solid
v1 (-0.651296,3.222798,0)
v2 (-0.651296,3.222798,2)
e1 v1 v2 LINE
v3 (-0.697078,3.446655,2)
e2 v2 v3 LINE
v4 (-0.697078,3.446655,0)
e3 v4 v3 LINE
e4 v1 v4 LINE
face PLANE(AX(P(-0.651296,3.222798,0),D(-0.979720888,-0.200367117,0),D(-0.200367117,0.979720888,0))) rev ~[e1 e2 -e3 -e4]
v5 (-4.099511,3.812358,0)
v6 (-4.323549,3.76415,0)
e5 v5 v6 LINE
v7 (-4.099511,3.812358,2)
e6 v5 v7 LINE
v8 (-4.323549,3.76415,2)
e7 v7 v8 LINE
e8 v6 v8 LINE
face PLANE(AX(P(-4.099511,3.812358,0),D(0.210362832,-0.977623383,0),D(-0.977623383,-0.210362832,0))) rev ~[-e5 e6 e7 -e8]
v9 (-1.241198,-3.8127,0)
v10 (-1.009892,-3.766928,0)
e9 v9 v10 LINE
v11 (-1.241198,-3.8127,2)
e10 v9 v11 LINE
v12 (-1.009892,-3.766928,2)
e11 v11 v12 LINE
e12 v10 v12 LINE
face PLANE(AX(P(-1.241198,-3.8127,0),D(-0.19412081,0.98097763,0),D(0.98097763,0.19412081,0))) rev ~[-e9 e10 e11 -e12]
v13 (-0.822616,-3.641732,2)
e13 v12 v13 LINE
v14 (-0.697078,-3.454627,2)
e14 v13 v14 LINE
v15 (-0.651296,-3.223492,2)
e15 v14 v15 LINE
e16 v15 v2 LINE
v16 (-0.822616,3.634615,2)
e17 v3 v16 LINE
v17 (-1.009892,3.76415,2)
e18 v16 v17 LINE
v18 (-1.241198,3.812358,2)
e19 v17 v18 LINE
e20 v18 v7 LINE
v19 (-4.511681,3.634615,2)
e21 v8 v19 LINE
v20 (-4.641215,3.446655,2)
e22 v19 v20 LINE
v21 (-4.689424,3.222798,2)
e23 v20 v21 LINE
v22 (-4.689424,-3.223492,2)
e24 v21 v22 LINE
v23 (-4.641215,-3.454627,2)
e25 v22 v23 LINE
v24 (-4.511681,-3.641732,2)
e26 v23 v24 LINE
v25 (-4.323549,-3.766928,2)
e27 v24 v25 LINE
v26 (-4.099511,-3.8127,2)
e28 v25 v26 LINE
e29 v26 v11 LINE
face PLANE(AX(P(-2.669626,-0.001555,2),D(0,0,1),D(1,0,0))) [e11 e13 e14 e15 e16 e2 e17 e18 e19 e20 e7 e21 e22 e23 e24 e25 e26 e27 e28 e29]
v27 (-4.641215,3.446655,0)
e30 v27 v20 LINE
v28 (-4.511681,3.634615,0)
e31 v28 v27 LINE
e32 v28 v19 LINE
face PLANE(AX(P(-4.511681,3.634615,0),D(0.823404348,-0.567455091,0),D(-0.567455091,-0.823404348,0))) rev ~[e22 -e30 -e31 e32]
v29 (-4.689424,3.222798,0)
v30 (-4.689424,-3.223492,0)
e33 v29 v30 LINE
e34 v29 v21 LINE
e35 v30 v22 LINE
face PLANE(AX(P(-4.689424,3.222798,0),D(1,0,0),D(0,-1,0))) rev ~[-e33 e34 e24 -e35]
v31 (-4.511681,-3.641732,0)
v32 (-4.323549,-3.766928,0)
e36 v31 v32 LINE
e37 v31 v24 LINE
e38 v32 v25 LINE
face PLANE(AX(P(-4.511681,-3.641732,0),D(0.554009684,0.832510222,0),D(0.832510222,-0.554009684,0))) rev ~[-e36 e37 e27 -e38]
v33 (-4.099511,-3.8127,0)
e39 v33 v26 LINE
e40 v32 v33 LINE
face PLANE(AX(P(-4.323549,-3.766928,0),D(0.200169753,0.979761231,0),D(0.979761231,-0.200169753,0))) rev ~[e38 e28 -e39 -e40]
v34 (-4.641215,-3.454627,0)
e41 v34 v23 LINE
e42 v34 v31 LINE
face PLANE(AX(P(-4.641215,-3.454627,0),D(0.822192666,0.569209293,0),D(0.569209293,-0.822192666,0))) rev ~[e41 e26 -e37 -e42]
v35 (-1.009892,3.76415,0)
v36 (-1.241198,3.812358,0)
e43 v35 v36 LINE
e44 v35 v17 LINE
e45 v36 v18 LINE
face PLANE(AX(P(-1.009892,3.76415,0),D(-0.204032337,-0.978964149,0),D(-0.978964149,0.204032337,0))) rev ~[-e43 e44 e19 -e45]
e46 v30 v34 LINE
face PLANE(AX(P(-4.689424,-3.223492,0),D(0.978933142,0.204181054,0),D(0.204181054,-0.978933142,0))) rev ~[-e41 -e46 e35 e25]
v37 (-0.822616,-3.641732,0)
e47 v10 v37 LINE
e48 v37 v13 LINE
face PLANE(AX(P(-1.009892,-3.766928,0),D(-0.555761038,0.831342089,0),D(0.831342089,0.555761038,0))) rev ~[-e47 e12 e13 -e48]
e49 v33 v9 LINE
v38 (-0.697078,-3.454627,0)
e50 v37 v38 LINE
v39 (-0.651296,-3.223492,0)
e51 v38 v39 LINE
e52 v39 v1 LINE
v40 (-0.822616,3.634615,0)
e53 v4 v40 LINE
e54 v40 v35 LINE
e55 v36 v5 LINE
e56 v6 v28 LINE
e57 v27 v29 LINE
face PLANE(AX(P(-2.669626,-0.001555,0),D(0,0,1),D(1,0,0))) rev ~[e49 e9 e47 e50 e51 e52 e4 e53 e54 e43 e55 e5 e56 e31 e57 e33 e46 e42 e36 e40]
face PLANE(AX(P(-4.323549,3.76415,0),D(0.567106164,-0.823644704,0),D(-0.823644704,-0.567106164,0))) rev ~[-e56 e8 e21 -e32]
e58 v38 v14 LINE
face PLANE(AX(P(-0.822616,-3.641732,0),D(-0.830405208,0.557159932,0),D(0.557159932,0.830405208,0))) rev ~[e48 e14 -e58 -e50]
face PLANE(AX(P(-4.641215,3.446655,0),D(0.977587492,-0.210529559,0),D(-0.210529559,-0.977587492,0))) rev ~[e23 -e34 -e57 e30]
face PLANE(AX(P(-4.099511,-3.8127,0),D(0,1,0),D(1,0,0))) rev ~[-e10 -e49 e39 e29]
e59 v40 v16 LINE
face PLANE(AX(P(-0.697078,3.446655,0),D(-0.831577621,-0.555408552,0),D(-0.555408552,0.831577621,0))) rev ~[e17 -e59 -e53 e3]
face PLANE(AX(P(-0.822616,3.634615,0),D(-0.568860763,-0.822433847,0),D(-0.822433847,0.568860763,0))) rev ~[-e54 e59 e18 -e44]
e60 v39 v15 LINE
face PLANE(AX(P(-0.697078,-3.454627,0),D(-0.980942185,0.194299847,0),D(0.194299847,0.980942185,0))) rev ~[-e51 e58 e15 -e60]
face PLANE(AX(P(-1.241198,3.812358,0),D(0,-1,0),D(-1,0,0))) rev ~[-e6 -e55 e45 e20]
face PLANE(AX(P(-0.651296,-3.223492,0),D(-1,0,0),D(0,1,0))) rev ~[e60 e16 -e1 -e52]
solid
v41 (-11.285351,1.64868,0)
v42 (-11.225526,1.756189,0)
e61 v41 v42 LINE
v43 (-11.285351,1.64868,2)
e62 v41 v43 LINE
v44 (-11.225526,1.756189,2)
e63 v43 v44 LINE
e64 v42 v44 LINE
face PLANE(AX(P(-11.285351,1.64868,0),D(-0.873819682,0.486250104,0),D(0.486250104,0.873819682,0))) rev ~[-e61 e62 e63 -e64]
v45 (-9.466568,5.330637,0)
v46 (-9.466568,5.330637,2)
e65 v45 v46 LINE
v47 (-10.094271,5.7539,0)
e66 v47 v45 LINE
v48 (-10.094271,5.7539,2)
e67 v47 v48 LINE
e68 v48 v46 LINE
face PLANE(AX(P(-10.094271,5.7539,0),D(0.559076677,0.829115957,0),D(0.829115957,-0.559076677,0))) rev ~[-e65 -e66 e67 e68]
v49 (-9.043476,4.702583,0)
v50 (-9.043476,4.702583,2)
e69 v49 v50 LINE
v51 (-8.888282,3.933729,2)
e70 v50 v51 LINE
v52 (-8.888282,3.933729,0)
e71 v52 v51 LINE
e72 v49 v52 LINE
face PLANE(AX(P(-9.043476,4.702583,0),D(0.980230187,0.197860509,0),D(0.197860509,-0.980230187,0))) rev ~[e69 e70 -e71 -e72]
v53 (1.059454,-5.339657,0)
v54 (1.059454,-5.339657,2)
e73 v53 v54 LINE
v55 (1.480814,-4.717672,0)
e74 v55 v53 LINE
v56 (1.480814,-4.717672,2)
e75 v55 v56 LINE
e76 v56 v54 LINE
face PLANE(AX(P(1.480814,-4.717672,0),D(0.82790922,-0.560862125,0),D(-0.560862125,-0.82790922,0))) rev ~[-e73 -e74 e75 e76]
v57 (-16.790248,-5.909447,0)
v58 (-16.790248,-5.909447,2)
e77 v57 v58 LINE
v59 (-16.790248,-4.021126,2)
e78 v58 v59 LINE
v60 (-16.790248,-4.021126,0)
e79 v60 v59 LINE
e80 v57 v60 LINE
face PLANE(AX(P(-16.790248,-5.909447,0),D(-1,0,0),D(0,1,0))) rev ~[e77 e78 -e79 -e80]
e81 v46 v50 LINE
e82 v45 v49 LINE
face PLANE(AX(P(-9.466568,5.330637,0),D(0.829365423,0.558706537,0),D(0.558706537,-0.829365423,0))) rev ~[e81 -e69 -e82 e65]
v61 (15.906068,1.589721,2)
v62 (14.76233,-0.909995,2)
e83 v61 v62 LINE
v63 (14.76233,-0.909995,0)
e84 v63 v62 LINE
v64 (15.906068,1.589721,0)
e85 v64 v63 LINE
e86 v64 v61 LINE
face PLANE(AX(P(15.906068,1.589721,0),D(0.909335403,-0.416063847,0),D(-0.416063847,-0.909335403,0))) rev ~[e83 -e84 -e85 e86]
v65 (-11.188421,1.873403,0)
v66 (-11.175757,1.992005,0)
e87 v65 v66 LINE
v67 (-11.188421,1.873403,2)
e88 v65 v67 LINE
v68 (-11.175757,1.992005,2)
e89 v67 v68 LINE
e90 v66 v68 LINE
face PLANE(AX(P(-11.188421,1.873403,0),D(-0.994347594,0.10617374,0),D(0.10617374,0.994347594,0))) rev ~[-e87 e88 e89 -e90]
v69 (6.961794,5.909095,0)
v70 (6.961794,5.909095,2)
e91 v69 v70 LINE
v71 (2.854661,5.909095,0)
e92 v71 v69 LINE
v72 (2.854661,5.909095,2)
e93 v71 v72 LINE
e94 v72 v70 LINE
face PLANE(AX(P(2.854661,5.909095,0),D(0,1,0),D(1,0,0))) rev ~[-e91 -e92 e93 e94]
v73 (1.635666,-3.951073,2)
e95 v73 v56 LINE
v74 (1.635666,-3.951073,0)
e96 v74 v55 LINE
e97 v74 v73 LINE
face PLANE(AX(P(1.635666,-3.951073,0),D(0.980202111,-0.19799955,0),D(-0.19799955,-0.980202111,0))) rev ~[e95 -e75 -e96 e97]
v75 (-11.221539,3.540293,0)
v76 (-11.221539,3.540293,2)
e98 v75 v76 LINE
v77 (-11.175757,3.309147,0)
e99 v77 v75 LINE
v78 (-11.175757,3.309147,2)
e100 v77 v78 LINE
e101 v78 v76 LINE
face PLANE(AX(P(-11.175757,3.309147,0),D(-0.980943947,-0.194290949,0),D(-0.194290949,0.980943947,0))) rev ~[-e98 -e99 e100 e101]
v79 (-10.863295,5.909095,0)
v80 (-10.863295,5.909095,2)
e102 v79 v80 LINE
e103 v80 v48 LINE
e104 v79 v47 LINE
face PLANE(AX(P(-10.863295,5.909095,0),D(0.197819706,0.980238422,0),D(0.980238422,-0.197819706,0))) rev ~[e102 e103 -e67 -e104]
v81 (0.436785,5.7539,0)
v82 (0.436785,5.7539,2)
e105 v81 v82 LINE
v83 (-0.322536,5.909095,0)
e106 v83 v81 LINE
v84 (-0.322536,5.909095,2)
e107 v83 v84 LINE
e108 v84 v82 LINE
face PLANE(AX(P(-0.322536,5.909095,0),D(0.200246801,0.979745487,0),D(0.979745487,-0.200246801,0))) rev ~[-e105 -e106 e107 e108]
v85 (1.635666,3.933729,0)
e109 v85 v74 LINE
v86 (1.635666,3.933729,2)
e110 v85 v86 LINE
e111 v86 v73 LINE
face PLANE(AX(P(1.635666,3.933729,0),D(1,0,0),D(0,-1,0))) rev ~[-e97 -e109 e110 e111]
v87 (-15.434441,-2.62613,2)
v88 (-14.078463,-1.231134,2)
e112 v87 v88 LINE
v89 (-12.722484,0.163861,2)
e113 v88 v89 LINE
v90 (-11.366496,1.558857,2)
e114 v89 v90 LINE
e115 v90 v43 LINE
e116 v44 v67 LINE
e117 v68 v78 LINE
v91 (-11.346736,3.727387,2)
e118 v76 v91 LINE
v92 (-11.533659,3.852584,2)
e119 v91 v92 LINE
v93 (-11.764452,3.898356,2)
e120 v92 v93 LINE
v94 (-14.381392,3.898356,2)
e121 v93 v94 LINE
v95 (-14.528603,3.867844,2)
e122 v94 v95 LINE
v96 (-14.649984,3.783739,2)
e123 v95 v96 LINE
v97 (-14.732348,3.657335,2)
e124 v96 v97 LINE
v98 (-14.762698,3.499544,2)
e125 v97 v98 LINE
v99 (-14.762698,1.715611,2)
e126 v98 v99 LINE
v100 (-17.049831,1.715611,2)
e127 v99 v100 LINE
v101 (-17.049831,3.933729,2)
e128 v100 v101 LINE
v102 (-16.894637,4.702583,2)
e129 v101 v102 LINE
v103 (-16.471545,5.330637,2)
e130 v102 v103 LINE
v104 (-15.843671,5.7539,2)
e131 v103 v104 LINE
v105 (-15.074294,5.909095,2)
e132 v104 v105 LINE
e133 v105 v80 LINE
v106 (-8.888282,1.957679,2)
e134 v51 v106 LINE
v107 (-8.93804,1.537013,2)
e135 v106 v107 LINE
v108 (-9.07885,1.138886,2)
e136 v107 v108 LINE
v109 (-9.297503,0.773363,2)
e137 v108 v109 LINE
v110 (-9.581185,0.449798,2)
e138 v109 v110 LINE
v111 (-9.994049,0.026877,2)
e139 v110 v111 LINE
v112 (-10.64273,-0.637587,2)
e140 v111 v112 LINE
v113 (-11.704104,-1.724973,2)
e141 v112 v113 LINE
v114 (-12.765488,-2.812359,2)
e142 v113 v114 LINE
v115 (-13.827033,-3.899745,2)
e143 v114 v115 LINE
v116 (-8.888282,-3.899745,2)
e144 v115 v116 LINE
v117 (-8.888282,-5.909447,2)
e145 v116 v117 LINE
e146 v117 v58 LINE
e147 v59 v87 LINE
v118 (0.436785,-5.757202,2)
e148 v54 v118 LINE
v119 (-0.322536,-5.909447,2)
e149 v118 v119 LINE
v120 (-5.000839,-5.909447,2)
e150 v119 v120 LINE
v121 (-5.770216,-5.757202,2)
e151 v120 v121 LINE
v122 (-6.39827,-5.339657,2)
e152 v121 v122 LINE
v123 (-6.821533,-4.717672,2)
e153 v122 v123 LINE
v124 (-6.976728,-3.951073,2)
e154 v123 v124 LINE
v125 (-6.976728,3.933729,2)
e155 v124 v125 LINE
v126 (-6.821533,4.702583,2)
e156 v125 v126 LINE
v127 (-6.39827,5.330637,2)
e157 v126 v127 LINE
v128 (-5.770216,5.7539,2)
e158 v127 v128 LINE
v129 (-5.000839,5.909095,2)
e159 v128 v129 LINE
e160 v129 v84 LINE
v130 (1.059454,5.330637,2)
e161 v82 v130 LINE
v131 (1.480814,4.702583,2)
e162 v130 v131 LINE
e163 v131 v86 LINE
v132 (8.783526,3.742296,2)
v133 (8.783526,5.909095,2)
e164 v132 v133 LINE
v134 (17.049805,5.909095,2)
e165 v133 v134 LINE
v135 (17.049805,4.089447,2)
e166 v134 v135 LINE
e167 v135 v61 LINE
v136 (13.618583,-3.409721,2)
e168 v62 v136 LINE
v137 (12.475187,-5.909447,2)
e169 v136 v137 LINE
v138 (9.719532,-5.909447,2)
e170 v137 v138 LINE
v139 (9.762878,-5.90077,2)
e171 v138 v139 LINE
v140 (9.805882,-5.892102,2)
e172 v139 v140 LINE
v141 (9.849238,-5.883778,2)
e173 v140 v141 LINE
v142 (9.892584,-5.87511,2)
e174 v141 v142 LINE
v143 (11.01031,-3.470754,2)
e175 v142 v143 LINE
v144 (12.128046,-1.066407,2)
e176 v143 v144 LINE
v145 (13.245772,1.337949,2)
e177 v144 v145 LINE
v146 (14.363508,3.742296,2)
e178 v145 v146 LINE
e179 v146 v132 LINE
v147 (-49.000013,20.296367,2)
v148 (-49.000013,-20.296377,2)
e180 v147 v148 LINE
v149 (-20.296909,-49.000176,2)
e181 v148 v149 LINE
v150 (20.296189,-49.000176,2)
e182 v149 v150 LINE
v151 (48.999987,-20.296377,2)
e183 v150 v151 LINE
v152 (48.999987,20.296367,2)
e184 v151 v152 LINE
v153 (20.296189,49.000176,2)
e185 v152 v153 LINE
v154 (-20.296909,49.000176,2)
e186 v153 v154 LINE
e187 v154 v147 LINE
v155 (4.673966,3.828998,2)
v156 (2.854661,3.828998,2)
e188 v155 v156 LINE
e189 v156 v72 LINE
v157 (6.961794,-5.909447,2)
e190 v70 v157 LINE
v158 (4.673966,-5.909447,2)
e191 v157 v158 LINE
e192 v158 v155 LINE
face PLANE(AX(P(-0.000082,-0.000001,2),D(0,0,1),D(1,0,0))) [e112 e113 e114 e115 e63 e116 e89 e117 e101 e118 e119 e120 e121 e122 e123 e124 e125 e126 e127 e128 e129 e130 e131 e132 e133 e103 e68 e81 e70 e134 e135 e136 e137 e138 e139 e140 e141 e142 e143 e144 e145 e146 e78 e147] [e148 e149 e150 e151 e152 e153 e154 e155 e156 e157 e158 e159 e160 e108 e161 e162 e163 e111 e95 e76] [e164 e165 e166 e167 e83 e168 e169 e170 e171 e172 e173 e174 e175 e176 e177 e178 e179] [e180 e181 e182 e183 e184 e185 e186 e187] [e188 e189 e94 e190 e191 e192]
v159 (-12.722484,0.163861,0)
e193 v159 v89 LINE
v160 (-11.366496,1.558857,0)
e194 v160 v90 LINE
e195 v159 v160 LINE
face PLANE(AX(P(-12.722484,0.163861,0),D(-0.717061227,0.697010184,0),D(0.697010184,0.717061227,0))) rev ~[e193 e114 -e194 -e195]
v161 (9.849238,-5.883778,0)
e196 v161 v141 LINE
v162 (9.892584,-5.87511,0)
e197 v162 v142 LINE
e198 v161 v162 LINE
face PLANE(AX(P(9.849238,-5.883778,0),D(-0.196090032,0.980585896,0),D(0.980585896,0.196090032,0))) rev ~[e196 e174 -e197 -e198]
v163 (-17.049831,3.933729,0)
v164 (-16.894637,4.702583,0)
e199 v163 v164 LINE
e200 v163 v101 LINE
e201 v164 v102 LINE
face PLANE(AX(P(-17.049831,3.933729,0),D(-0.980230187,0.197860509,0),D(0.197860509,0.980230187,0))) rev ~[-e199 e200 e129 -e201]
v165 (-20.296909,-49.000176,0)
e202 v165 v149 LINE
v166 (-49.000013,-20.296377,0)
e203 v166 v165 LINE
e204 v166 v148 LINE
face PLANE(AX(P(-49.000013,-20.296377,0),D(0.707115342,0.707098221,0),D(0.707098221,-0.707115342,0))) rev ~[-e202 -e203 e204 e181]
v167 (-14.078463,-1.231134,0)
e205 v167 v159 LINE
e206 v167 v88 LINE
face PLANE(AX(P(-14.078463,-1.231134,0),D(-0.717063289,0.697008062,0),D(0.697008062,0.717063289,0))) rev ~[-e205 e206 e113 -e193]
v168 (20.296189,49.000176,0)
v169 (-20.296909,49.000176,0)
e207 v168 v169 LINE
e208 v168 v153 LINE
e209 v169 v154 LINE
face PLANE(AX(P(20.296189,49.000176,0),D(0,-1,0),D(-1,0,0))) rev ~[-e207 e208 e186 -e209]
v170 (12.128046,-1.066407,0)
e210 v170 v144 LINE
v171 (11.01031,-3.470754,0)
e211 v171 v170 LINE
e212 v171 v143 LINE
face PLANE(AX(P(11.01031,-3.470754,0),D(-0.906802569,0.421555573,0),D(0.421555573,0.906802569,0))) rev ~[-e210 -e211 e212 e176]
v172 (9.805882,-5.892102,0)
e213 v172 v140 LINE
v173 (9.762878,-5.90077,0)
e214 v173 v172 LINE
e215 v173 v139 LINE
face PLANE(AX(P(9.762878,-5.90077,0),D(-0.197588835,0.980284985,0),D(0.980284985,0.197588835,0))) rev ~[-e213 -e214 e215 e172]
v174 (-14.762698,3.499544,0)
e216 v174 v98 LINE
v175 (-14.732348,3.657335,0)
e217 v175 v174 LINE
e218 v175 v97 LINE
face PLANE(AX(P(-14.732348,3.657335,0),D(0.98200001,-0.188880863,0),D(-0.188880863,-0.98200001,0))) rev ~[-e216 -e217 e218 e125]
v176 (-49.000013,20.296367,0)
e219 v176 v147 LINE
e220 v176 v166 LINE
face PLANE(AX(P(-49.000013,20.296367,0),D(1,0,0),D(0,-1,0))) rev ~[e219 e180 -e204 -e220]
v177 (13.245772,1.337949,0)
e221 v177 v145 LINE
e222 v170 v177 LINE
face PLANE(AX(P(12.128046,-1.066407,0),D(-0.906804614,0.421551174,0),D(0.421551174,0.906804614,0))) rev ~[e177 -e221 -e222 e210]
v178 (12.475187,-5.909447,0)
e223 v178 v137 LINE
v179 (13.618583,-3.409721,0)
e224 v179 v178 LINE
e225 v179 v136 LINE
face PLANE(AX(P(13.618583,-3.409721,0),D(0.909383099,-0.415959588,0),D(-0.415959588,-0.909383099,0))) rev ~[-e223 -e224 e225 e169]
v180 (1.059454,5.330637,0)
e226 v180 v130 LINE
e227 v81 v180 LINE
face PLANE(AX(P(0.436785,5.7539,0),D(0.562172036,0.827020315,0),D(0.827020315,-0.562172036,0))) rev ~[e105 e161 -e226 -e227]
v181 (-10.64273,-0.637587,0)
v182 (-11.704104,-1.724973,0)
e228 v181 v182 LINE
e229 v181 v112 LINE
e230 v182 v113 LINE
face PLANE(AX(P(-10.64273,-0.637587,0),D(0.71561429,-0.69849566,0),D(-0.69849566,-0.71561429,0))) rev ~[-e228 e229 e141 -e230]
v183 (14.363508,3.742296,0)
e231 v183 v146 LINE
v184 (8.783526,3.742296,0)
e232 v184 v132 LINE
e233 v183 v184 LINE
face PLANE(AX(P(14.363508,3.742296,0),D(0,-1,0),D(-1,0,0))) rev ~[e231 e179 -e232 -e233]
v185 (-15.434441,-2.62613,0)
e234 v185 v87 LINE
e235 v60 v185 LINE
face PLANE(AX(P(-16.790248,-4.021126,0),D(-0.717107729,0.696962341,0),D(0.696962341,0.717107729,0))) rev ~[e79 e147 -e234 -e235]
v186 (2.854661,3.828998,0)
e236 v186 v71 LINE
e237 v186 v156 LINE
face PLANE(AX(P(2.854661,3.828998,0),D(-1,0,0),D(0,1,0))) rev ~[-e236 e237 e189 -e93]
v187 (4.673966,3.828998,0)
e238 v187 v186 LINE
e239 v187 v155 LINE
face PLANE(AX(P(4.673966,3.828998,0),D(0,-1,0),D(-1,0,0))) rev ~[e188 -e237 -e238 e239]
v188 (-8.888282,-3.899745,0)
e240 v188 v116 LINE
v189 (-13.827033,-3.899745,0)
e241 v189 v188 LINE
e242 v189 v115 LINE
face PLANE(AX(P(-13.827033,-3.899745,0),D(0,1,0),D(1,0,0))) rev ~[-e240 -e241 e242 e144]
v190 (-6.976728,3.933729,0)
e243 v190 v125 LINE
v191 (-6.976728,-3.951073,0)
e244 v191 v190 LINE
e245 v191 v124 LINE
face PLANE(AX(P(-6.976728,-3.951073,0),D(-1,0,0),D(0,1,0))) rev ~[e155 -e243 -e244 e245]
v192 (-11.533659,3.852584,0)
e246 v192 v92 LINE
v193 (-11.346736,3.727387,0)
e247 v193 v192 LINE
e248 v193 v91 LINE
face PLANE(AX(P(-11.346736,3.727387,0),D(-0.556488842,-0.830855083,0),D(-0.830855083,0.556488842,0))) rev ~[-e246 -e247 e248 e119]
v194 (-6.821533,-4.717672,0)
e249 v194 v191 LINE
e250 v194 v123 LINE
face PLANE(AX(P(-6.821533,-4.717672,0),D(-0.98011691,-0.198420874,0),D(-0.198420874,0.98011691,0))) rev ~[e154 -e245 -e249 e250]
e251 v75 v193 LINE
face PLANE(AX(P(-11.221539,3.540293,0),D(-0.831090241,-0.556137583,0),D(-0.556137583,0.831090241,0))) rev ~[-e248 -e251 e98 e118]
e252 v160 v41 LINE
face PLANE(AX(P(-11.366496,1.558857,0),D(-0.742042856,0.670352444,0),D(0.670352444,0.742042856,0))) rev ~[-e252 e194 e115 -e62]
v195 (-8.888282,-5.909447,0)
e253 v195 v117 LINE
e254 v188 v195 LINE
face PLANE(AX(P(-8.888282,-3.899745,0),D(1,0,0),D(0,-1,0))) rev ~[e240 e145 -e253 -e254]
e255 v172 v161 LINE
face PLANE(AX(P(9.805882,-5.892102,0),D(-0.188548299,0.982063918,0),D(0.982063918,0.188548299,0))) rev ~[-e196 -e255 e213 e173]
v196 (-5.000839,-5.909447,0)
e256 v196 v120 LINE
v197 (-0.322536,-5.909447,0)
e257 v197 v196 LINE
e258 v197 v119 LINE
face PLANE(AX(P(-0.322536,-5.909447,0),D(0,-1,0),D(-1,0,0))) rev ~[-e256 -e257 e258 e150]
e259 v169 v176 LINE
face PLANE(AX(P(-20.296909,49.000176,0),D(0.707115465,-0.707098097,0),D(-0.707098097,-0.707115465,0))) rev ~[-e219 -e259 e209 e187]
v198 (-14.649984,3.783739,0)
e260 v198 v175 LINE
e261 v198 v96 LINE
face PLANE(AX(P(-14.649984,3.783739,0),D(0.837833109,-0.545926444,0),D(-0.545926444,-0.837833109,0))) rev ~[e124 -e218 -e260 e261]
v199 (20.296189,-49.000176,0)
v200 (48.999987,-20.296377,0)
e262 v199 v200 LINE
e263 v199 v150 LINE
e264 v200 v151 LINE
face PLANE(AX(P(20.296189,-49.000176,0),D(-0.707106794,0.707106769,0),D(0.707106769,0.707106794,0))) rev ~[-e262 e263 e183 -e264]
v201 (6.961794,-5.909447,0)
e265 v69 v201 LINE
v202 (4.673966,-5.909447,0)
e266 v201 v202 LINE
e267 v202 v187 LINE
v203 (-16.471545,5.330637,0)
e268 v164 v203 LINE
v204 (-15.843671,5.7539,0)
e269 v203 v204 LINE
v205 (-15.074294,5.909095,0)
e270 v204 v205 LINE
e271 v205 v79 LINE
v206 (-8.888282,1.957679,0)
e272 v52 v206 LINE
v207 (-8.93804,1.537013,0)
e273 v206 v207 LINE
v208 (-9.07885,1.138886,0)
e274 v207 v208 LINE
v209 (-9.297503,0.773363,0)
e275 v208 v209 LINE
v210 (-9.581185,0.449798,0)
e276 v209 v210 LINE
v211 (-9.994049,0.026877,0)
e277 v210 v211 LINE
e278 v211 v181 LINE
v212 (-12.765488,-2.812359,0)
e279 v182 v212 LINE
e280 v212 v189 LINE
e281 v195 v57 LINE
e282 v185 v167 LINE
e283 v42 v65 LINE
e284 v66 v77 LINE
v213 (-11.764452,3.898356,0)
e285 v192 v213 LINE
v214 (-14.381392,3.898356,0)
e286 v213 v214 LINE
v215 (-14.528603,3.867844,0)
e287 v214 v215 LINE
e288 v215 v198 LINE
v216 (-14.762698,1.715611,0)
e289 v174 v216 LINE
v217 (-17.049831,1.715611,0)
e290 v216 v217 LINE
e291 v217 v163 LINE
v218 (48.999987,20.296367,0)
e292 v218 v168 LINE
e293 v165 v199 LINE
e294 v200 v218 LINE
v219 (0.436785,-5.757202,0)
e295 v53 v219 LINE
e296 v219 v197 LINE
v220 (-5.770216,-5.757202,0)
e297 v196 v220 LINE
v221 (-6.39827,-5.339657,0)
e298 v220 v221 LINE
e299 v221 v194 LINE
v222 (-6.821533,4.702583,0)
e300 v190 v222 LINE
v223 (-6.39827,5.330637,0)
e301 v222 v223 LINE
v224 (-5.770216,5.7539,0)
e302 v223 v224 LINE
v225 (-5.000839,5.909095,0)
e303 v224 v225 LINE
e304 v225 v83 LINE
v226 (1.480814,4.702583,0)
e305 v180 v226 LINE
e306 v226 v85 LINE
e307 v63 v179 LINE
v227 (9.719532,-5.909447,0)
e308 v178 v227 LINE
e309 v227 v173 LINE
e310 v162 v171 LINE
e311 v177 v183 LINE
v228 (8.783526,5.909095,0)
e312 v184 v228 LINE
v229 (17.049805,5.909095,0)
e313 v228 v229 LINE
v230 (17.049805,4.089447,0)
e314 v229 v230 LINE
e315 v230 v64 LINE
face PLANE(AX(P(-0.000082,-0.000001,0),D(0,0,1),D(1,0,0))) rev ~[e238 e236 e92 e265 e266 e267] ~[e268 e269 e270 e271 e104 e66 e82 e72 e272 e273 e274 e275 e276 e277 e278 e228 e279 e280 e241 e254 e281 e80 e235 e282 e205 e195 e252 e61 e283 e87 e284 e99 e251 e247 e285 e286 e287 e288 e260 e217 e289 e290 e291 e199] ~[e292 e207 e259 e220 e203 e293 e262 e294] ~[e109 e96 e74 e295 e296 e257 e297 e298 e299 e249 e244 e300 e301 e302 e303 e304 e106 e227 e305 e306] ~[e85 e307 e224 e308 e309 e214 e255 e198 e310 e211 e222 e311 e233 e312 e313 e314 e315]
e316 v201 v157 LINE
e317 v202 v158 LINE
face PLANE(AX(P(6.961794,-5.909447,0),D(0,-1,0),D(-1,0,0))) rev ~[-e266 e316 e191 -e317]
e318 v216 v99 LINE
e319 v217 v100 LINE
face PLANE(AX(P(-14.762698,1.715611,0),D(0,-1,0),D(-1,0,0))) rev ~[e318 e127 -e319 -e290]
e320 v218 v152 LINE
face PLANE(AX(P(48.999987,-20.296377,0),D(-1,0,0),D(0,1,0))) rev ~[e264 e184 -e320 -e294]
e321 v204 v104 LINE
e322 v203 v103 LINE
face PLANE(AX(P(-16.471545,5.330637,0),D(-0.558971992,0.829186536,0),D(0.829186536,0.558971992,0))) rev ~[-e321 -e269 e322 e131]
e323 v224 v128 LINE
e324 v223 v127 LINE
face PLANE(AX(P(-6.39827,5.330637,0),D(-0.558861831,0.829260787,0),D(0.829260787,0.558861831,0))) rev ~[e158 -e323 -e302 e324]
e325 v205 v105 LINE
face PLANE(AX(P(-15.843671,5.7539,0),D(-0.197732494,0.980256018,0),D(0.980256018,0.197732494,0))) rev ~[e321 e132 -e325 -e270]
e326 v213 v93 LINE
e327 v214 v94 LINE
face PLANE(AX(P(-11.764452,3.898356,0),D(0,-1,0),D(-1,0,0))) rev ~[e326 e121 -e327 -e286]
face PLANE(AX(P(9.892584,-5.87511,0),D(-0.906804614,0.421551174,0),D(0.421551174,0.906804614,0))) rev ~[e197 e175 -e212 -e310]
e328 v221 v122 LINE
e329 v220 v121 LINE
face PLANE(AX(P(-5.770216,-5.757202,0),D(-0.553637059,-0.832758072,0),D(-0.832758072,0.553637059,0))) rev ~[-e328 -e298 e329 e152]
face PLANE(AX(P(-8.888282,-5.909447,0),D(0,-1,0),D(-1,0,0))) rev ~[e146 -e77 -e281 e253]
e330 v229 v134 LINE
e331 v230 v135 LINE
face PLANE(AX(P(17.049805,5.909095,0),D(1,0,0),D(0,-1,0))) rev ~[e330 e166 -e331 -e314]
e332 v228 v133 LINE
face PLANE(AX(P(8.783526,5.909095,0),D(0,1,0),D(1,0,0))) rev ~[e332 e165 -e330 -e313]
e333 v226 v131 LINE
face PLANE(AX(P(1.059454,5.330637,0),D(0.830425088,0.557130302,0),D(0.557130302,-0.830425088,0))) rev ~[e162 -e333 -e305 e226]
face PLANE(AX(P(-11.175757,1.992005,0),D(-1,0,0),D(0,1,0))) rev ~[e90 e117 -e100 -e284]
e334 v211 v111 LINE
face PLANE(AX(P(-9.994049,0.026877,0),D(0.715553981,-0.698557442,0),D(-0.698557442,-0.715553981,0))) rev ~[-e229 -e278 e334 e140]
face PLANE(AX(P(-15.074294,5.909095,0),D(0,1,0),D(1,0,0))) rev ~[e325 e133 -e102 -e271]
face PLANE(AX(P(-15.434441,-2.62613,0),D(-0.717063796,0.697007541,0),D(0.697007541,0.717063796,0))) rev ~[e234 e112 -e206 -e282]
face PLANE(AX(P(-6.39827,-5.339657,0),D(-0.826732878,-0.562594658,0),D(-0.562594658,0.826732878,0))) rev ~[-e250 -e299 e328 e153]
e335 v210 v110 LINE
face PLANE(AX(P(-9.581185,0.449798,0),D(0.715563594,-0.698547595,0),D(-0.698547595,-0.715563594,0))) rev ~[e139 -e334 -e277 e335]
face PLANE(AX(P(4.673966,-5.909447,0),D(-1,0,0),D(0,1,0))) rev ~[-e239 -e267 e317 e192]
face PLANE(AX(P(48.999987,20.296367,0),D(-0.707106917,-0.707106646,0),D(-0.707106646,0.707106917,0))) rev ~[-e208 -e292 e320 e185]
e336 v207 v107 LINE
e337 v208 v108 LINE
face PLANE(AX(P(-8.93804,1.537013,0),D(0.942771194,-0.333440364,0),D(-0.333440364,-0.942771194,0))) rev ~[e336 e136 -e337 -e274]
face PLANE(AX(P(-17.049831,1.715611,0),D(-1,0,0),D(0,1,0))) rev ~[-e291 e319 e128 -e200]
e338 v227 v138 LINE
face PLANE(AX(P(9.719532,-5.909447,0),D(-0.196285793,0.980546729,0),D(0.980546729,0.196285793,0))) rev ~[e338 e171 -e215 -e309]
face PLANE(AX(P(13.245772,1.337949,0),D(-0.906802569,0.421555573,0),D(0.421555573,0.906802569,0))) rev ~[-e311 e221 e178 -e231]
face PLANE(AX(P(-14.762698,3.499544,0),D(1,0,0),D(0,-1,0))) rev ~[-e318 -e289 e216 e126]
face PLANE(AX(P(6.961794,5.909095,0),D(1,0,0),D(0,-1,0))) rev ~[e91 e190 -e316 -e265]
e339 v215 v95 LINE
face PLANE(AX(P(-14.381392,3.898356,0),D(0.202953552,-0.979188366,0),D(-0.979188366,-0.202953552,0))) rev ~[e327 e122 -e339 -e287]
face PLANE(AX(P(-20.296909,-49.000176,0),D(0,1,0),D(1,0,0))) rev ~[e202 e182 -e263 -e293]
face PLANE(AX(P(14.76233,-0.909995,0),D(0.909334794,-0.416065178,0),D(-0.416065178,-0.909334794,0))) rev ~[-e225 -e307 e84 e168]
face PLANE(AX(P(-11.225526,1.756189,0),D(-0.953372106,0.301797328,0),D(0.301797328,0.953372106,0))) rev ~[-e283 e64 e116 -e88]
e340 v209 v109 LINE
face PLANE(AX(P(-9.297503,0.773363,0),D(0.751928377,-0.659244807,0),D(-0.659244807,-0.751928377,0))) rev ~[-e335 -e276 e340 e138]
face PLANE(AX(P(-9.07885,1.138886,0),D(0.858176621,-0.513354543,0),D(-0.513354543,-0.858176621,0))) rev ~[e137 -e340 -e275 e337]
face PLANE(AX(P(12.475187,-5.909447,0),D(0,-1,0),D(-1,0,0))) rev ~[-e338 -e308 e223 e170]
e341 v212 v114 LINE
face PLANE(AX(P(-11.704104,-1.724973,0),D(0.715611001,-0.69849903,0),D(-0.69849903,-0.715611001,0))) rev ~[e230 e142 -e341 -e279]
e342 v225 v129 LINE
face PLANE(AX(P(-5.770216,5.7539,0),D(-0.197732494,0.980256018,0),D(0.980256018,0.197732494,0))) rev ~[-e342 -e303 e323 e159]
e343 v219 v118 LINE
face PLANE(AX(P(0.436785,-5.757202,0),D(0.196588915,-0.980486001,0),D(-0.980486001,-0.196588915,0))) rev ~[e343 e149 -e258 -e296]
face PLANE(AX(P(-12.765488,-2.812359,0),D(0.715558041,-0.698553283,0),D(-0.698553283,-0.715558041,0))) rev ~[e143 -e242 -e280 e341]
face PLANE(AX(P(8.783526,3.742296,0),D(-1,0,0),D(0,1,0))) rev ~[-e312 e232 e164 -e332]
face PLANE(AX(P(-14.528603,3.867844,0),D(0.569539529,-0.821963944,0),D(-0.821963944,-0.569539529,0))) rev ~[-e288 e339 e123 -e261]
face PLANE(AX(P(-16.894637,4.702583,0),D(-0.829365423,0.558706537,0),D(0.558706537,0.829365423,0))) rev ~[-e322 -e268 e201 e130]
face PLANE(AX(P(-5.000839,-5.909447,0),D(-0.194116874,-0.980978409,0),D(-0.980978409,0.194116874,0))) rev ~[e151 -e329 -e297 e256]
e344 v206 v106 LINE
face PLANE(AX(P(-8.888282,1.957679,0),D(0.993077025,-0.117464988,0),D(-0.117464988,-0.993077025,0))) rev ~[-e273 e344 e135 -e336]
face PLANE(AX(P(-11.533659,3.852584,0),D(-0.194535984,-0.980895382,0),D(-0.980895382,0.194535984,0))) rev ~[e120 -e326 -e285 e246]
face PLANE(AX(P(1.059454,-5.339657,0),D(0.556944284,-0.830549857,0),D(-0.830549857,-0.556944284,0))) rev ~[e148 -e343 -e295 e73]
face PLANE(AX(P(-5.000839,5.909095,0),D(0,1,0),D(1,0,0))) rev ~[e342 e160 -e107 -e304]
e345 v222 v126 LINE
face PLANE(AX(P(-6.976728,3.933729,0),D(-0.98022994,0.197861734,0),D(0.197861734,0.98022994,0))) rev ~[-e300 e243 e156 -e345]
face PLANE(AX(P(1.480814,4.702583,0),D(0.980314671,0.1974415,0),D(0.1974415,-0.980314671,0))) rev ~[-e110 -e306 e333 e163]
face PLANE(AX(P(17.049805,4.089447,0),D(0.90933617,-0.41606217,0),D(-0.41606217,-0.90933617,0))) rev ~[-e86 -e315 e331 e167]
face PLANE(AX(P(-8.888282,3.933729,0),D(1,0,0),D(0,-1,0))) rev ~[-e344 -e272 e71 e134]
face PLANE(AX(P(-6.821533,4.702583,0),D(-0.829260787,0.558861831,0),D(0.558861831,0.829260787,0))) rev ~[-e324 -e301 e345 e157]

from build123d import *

# Parameters (mm, degrees)
F1_DEPTH = 2


with BuildPart() as f1:
    # F0 (on Top) → F1 (new body)
    with BuildSketch(Plane.XY):
        Polygon((48.999987, 20.296367), (20.296189, 49.000176), (-20.296909, 49.000176), (-49.000013, 20.296367), (-49.000013, -20.296377), (-20.296909, -49.000176), (20.296189, -49.000176), (48.999987, -20.296377), align=None)
        Polygon((-16.477957, 1.715611), (-17.049831, 1.715611), (-17.049831, 2.270141), (-17.049831, 2.82467), (-17.049831, 3.3792), (-17.049831, 3.933729), (-16.894637, 4.702583), (-16.471545, 5.330637), (-15.843671, 5.7539), (-15.074294, 5.909095), (-14.021587, 5.909095), (-12.968709, 5.909095), (-11.916002, 5.909095), (-10.863295, 5.909095), (-10.094271, 5.7539), (-9.466568, 5.330637), (-9.043476, 4.702583), (-8.888282, 3.933729), (-8.888282, 3.439719), (-8.888282, 2.945709), (-8.888282, 2.451689), (-8.888282, 1.957679), (-8.93804, 1.537013), (-9.07885, 1.138886), (-9.297503, 0.773363), (-9.581185, 0.449798), (-9.994049, 0.026877), (-10.64273, -0.637587), (-11.704104, -1.724973), (-12.765488, -2.812359), (-13.827033, -3.899745), (-12.592436, -3.899745), (-11.357658, -3.899745), (-10.122879, -3.899745), (-8.888282, -3.899745), (-8.888282, -4.402261), (-8.888282, -4.904596), (-8.888282, -5.406931), (-8.888282, -5.909447), (-10.863819, -5.909447), (-12.839356, -5.909447), (-14.814711, -5.909447), (-16.790248, -5.909447), (-16.790248, -5.437452), (-16.790248, -4.965286), (-16.790248, -4.49312), (-16.790248, -4.021126), (-15.434441, -2.62613), (-14.078463, -1.231134), (-12.722484, 0.163861), (-11.366496, 1.558857), (-11.285351, 1.64868), (-11.225526, 1.756189), (-11.188421, 1.873403), (-11.175757, 1.992005), (-11.175757, 2.321298), (-11.175757, 2.650581), (-11.175757, 2.979864), (-11.175757, 3.309147), (-11.221539, 3.540293), (-11.346736, 3.727387), (-11.533659, 3.852584), (-11.764452, 3.898356), (-12.41869, 3.898356), (-13.072917, 3.898356), (-13.727154, 3.898356), (-14.381392, 3.898356), (-14.528603, 3.867844), (-14.649984, 3.783739), (-14.732348, 3.657335), (-14.762698, 3.499544), (-14.762698, 3.053561), (-14.762698, 2.607578), (-14.762698, 2.161595), (-14.762698, 1.715611), (-15.334562, 1.715611), (-15.906264, 1.715611), align=None, mode=Mode.SUBTRACT)
        Polygon((1.480814, 4.702583), (1.635666, 3.933729), (1.635666, 1.962531), (1.635666, -0.008667), (1.635666, -1.979875), (1.635666, -3.951073), (1.480814, -4.717672), (1.059454, -5.339657), (0.436785, -5.757202), (-0.322536, -5.909447), (-1.492114, -5.909447), (-2.661692, -5.909447), (-3.83127, -5.909447), (-5.000839, -5.909447), (-5.770216, -5.757202), (-6.39827, -5.339657), (-6.821533, -4.717672), (-6.976728, -3.951073), (-6.976728, -1.979875), (-6.976728, -0.008667), (-6.976728, 1.962531), (-6.976728, 2.995638), (-6.976728, 3.933729), (-6.821533, 4.702583), (-6.39827, 5.330637), (-5.770216, 5.7539), (-5.000839, 5.909095), (-3.83127, 5.909095), (-2.661692, 5.909095), (-1.492114, 5.909095), (-0.322536, 5.909095), (0.436785, 5.7539), (1.059454, 5.330637), align=None, mode=Mode.SUBTRACT)
        Polygon((2.854661, 5.389073), (2.854661, 5.909095), (3.881527, 5.909095), (4.908222, 5.909095), (5.934917, 5.909095), (6.961794, 5.909095), (6.961794, 2.954376), (6.961794, -0.000171), (6.961794, -2.954718), (6.961794, -5.909447), (6.38992, -5.909447), (5.817704, -5.909447), (5.24583, -5.909447), (4.673966, -5.909447), (4.673966, -3.474921), (4.673966, -1.040225), (4.673966, 1.394472), (4.673966, 3.828998), (4.219135, 3.828998), (3.764313, 3.828998), (3.309482, 3.828998), (2.854661, 3.828998), (2.854661, 4.34902), (2.854661, 4.869051), align=None, mode=Mode.SUBTRACT)
        Polygon((8.783526, 5.3674), (8.783526, 5.909095), (10.850093, 5.909095), (12.91666, 5.909095), (14.983238, 5.909095), (17.049805, 5.909095), (17.049805, 5.454092), (17.049805, 4.999271), (17.049805, 4.544449), (17.049805, 4.089447), (15.906068, 1.589721), (14.76233, -0.909995), (13.618583, -3.409721), (12.475187, -5.909447), (11.7861, -5.909447), (11.097365, -5.909447), (10.40862, -5.909447), (9.719532, -5.909447), (9.762878, -5.90077), (9.805882, -5.892102), (9.849238, -5.883778), (9.892584, -5.87511), (11.01031, -3.470754), (12.128046, -1.066407), (13.245772, 1.337949), (14.363508, 3.742296), (12.968684, 3.742296), (11.573517, 3.742296), (10.17835, 3.742296), (8.783526, 3.742296), (8.783526, 4.284), (8.783526, 4.825695), align=None, mode=Mode.SUBTRACT)
        Polygon((-4.689424, -1.611917), (-4.689424, -3.223492), (-4.641215, -3.454627), (-4.511681, -3.641732), (-4.323549, -3.766928), (-4.099511, -3.8127), (-3.384935, -3.8127), (-2.67036, -3.8127), (-1.955784, -3.8127), (-1.241198, -3.8127), (-1.009892, -3.766928), (-0.822616, -3.641732), (-0.697078, -3.454627), (-0.651296, -3.223492), (-0.651296, -1.611917), (-0.651296, -0.000352), (-0.651296, 1.611223), (-0.651296, 3.222798), (-0.697078, 3.446655), (-0.822616, 3.634615), (-1.009892, 3.76415), (-1.241198, 3.812358), (-1.955784, 3.812358), (-2.67036, 3.812358), (-3.384935, 3.812358), (-4.099511, 3.812358), (-4.323549, 3.76415), (-4.511681, 3.634615), (-4.641215, 3.446655), (-4.689424, 3.222798), (-4.689424, 1.611223), (-4.689424, -0.000352), align=None)
    extrude(amount=F1_DEPTH)


solid = f1.part
